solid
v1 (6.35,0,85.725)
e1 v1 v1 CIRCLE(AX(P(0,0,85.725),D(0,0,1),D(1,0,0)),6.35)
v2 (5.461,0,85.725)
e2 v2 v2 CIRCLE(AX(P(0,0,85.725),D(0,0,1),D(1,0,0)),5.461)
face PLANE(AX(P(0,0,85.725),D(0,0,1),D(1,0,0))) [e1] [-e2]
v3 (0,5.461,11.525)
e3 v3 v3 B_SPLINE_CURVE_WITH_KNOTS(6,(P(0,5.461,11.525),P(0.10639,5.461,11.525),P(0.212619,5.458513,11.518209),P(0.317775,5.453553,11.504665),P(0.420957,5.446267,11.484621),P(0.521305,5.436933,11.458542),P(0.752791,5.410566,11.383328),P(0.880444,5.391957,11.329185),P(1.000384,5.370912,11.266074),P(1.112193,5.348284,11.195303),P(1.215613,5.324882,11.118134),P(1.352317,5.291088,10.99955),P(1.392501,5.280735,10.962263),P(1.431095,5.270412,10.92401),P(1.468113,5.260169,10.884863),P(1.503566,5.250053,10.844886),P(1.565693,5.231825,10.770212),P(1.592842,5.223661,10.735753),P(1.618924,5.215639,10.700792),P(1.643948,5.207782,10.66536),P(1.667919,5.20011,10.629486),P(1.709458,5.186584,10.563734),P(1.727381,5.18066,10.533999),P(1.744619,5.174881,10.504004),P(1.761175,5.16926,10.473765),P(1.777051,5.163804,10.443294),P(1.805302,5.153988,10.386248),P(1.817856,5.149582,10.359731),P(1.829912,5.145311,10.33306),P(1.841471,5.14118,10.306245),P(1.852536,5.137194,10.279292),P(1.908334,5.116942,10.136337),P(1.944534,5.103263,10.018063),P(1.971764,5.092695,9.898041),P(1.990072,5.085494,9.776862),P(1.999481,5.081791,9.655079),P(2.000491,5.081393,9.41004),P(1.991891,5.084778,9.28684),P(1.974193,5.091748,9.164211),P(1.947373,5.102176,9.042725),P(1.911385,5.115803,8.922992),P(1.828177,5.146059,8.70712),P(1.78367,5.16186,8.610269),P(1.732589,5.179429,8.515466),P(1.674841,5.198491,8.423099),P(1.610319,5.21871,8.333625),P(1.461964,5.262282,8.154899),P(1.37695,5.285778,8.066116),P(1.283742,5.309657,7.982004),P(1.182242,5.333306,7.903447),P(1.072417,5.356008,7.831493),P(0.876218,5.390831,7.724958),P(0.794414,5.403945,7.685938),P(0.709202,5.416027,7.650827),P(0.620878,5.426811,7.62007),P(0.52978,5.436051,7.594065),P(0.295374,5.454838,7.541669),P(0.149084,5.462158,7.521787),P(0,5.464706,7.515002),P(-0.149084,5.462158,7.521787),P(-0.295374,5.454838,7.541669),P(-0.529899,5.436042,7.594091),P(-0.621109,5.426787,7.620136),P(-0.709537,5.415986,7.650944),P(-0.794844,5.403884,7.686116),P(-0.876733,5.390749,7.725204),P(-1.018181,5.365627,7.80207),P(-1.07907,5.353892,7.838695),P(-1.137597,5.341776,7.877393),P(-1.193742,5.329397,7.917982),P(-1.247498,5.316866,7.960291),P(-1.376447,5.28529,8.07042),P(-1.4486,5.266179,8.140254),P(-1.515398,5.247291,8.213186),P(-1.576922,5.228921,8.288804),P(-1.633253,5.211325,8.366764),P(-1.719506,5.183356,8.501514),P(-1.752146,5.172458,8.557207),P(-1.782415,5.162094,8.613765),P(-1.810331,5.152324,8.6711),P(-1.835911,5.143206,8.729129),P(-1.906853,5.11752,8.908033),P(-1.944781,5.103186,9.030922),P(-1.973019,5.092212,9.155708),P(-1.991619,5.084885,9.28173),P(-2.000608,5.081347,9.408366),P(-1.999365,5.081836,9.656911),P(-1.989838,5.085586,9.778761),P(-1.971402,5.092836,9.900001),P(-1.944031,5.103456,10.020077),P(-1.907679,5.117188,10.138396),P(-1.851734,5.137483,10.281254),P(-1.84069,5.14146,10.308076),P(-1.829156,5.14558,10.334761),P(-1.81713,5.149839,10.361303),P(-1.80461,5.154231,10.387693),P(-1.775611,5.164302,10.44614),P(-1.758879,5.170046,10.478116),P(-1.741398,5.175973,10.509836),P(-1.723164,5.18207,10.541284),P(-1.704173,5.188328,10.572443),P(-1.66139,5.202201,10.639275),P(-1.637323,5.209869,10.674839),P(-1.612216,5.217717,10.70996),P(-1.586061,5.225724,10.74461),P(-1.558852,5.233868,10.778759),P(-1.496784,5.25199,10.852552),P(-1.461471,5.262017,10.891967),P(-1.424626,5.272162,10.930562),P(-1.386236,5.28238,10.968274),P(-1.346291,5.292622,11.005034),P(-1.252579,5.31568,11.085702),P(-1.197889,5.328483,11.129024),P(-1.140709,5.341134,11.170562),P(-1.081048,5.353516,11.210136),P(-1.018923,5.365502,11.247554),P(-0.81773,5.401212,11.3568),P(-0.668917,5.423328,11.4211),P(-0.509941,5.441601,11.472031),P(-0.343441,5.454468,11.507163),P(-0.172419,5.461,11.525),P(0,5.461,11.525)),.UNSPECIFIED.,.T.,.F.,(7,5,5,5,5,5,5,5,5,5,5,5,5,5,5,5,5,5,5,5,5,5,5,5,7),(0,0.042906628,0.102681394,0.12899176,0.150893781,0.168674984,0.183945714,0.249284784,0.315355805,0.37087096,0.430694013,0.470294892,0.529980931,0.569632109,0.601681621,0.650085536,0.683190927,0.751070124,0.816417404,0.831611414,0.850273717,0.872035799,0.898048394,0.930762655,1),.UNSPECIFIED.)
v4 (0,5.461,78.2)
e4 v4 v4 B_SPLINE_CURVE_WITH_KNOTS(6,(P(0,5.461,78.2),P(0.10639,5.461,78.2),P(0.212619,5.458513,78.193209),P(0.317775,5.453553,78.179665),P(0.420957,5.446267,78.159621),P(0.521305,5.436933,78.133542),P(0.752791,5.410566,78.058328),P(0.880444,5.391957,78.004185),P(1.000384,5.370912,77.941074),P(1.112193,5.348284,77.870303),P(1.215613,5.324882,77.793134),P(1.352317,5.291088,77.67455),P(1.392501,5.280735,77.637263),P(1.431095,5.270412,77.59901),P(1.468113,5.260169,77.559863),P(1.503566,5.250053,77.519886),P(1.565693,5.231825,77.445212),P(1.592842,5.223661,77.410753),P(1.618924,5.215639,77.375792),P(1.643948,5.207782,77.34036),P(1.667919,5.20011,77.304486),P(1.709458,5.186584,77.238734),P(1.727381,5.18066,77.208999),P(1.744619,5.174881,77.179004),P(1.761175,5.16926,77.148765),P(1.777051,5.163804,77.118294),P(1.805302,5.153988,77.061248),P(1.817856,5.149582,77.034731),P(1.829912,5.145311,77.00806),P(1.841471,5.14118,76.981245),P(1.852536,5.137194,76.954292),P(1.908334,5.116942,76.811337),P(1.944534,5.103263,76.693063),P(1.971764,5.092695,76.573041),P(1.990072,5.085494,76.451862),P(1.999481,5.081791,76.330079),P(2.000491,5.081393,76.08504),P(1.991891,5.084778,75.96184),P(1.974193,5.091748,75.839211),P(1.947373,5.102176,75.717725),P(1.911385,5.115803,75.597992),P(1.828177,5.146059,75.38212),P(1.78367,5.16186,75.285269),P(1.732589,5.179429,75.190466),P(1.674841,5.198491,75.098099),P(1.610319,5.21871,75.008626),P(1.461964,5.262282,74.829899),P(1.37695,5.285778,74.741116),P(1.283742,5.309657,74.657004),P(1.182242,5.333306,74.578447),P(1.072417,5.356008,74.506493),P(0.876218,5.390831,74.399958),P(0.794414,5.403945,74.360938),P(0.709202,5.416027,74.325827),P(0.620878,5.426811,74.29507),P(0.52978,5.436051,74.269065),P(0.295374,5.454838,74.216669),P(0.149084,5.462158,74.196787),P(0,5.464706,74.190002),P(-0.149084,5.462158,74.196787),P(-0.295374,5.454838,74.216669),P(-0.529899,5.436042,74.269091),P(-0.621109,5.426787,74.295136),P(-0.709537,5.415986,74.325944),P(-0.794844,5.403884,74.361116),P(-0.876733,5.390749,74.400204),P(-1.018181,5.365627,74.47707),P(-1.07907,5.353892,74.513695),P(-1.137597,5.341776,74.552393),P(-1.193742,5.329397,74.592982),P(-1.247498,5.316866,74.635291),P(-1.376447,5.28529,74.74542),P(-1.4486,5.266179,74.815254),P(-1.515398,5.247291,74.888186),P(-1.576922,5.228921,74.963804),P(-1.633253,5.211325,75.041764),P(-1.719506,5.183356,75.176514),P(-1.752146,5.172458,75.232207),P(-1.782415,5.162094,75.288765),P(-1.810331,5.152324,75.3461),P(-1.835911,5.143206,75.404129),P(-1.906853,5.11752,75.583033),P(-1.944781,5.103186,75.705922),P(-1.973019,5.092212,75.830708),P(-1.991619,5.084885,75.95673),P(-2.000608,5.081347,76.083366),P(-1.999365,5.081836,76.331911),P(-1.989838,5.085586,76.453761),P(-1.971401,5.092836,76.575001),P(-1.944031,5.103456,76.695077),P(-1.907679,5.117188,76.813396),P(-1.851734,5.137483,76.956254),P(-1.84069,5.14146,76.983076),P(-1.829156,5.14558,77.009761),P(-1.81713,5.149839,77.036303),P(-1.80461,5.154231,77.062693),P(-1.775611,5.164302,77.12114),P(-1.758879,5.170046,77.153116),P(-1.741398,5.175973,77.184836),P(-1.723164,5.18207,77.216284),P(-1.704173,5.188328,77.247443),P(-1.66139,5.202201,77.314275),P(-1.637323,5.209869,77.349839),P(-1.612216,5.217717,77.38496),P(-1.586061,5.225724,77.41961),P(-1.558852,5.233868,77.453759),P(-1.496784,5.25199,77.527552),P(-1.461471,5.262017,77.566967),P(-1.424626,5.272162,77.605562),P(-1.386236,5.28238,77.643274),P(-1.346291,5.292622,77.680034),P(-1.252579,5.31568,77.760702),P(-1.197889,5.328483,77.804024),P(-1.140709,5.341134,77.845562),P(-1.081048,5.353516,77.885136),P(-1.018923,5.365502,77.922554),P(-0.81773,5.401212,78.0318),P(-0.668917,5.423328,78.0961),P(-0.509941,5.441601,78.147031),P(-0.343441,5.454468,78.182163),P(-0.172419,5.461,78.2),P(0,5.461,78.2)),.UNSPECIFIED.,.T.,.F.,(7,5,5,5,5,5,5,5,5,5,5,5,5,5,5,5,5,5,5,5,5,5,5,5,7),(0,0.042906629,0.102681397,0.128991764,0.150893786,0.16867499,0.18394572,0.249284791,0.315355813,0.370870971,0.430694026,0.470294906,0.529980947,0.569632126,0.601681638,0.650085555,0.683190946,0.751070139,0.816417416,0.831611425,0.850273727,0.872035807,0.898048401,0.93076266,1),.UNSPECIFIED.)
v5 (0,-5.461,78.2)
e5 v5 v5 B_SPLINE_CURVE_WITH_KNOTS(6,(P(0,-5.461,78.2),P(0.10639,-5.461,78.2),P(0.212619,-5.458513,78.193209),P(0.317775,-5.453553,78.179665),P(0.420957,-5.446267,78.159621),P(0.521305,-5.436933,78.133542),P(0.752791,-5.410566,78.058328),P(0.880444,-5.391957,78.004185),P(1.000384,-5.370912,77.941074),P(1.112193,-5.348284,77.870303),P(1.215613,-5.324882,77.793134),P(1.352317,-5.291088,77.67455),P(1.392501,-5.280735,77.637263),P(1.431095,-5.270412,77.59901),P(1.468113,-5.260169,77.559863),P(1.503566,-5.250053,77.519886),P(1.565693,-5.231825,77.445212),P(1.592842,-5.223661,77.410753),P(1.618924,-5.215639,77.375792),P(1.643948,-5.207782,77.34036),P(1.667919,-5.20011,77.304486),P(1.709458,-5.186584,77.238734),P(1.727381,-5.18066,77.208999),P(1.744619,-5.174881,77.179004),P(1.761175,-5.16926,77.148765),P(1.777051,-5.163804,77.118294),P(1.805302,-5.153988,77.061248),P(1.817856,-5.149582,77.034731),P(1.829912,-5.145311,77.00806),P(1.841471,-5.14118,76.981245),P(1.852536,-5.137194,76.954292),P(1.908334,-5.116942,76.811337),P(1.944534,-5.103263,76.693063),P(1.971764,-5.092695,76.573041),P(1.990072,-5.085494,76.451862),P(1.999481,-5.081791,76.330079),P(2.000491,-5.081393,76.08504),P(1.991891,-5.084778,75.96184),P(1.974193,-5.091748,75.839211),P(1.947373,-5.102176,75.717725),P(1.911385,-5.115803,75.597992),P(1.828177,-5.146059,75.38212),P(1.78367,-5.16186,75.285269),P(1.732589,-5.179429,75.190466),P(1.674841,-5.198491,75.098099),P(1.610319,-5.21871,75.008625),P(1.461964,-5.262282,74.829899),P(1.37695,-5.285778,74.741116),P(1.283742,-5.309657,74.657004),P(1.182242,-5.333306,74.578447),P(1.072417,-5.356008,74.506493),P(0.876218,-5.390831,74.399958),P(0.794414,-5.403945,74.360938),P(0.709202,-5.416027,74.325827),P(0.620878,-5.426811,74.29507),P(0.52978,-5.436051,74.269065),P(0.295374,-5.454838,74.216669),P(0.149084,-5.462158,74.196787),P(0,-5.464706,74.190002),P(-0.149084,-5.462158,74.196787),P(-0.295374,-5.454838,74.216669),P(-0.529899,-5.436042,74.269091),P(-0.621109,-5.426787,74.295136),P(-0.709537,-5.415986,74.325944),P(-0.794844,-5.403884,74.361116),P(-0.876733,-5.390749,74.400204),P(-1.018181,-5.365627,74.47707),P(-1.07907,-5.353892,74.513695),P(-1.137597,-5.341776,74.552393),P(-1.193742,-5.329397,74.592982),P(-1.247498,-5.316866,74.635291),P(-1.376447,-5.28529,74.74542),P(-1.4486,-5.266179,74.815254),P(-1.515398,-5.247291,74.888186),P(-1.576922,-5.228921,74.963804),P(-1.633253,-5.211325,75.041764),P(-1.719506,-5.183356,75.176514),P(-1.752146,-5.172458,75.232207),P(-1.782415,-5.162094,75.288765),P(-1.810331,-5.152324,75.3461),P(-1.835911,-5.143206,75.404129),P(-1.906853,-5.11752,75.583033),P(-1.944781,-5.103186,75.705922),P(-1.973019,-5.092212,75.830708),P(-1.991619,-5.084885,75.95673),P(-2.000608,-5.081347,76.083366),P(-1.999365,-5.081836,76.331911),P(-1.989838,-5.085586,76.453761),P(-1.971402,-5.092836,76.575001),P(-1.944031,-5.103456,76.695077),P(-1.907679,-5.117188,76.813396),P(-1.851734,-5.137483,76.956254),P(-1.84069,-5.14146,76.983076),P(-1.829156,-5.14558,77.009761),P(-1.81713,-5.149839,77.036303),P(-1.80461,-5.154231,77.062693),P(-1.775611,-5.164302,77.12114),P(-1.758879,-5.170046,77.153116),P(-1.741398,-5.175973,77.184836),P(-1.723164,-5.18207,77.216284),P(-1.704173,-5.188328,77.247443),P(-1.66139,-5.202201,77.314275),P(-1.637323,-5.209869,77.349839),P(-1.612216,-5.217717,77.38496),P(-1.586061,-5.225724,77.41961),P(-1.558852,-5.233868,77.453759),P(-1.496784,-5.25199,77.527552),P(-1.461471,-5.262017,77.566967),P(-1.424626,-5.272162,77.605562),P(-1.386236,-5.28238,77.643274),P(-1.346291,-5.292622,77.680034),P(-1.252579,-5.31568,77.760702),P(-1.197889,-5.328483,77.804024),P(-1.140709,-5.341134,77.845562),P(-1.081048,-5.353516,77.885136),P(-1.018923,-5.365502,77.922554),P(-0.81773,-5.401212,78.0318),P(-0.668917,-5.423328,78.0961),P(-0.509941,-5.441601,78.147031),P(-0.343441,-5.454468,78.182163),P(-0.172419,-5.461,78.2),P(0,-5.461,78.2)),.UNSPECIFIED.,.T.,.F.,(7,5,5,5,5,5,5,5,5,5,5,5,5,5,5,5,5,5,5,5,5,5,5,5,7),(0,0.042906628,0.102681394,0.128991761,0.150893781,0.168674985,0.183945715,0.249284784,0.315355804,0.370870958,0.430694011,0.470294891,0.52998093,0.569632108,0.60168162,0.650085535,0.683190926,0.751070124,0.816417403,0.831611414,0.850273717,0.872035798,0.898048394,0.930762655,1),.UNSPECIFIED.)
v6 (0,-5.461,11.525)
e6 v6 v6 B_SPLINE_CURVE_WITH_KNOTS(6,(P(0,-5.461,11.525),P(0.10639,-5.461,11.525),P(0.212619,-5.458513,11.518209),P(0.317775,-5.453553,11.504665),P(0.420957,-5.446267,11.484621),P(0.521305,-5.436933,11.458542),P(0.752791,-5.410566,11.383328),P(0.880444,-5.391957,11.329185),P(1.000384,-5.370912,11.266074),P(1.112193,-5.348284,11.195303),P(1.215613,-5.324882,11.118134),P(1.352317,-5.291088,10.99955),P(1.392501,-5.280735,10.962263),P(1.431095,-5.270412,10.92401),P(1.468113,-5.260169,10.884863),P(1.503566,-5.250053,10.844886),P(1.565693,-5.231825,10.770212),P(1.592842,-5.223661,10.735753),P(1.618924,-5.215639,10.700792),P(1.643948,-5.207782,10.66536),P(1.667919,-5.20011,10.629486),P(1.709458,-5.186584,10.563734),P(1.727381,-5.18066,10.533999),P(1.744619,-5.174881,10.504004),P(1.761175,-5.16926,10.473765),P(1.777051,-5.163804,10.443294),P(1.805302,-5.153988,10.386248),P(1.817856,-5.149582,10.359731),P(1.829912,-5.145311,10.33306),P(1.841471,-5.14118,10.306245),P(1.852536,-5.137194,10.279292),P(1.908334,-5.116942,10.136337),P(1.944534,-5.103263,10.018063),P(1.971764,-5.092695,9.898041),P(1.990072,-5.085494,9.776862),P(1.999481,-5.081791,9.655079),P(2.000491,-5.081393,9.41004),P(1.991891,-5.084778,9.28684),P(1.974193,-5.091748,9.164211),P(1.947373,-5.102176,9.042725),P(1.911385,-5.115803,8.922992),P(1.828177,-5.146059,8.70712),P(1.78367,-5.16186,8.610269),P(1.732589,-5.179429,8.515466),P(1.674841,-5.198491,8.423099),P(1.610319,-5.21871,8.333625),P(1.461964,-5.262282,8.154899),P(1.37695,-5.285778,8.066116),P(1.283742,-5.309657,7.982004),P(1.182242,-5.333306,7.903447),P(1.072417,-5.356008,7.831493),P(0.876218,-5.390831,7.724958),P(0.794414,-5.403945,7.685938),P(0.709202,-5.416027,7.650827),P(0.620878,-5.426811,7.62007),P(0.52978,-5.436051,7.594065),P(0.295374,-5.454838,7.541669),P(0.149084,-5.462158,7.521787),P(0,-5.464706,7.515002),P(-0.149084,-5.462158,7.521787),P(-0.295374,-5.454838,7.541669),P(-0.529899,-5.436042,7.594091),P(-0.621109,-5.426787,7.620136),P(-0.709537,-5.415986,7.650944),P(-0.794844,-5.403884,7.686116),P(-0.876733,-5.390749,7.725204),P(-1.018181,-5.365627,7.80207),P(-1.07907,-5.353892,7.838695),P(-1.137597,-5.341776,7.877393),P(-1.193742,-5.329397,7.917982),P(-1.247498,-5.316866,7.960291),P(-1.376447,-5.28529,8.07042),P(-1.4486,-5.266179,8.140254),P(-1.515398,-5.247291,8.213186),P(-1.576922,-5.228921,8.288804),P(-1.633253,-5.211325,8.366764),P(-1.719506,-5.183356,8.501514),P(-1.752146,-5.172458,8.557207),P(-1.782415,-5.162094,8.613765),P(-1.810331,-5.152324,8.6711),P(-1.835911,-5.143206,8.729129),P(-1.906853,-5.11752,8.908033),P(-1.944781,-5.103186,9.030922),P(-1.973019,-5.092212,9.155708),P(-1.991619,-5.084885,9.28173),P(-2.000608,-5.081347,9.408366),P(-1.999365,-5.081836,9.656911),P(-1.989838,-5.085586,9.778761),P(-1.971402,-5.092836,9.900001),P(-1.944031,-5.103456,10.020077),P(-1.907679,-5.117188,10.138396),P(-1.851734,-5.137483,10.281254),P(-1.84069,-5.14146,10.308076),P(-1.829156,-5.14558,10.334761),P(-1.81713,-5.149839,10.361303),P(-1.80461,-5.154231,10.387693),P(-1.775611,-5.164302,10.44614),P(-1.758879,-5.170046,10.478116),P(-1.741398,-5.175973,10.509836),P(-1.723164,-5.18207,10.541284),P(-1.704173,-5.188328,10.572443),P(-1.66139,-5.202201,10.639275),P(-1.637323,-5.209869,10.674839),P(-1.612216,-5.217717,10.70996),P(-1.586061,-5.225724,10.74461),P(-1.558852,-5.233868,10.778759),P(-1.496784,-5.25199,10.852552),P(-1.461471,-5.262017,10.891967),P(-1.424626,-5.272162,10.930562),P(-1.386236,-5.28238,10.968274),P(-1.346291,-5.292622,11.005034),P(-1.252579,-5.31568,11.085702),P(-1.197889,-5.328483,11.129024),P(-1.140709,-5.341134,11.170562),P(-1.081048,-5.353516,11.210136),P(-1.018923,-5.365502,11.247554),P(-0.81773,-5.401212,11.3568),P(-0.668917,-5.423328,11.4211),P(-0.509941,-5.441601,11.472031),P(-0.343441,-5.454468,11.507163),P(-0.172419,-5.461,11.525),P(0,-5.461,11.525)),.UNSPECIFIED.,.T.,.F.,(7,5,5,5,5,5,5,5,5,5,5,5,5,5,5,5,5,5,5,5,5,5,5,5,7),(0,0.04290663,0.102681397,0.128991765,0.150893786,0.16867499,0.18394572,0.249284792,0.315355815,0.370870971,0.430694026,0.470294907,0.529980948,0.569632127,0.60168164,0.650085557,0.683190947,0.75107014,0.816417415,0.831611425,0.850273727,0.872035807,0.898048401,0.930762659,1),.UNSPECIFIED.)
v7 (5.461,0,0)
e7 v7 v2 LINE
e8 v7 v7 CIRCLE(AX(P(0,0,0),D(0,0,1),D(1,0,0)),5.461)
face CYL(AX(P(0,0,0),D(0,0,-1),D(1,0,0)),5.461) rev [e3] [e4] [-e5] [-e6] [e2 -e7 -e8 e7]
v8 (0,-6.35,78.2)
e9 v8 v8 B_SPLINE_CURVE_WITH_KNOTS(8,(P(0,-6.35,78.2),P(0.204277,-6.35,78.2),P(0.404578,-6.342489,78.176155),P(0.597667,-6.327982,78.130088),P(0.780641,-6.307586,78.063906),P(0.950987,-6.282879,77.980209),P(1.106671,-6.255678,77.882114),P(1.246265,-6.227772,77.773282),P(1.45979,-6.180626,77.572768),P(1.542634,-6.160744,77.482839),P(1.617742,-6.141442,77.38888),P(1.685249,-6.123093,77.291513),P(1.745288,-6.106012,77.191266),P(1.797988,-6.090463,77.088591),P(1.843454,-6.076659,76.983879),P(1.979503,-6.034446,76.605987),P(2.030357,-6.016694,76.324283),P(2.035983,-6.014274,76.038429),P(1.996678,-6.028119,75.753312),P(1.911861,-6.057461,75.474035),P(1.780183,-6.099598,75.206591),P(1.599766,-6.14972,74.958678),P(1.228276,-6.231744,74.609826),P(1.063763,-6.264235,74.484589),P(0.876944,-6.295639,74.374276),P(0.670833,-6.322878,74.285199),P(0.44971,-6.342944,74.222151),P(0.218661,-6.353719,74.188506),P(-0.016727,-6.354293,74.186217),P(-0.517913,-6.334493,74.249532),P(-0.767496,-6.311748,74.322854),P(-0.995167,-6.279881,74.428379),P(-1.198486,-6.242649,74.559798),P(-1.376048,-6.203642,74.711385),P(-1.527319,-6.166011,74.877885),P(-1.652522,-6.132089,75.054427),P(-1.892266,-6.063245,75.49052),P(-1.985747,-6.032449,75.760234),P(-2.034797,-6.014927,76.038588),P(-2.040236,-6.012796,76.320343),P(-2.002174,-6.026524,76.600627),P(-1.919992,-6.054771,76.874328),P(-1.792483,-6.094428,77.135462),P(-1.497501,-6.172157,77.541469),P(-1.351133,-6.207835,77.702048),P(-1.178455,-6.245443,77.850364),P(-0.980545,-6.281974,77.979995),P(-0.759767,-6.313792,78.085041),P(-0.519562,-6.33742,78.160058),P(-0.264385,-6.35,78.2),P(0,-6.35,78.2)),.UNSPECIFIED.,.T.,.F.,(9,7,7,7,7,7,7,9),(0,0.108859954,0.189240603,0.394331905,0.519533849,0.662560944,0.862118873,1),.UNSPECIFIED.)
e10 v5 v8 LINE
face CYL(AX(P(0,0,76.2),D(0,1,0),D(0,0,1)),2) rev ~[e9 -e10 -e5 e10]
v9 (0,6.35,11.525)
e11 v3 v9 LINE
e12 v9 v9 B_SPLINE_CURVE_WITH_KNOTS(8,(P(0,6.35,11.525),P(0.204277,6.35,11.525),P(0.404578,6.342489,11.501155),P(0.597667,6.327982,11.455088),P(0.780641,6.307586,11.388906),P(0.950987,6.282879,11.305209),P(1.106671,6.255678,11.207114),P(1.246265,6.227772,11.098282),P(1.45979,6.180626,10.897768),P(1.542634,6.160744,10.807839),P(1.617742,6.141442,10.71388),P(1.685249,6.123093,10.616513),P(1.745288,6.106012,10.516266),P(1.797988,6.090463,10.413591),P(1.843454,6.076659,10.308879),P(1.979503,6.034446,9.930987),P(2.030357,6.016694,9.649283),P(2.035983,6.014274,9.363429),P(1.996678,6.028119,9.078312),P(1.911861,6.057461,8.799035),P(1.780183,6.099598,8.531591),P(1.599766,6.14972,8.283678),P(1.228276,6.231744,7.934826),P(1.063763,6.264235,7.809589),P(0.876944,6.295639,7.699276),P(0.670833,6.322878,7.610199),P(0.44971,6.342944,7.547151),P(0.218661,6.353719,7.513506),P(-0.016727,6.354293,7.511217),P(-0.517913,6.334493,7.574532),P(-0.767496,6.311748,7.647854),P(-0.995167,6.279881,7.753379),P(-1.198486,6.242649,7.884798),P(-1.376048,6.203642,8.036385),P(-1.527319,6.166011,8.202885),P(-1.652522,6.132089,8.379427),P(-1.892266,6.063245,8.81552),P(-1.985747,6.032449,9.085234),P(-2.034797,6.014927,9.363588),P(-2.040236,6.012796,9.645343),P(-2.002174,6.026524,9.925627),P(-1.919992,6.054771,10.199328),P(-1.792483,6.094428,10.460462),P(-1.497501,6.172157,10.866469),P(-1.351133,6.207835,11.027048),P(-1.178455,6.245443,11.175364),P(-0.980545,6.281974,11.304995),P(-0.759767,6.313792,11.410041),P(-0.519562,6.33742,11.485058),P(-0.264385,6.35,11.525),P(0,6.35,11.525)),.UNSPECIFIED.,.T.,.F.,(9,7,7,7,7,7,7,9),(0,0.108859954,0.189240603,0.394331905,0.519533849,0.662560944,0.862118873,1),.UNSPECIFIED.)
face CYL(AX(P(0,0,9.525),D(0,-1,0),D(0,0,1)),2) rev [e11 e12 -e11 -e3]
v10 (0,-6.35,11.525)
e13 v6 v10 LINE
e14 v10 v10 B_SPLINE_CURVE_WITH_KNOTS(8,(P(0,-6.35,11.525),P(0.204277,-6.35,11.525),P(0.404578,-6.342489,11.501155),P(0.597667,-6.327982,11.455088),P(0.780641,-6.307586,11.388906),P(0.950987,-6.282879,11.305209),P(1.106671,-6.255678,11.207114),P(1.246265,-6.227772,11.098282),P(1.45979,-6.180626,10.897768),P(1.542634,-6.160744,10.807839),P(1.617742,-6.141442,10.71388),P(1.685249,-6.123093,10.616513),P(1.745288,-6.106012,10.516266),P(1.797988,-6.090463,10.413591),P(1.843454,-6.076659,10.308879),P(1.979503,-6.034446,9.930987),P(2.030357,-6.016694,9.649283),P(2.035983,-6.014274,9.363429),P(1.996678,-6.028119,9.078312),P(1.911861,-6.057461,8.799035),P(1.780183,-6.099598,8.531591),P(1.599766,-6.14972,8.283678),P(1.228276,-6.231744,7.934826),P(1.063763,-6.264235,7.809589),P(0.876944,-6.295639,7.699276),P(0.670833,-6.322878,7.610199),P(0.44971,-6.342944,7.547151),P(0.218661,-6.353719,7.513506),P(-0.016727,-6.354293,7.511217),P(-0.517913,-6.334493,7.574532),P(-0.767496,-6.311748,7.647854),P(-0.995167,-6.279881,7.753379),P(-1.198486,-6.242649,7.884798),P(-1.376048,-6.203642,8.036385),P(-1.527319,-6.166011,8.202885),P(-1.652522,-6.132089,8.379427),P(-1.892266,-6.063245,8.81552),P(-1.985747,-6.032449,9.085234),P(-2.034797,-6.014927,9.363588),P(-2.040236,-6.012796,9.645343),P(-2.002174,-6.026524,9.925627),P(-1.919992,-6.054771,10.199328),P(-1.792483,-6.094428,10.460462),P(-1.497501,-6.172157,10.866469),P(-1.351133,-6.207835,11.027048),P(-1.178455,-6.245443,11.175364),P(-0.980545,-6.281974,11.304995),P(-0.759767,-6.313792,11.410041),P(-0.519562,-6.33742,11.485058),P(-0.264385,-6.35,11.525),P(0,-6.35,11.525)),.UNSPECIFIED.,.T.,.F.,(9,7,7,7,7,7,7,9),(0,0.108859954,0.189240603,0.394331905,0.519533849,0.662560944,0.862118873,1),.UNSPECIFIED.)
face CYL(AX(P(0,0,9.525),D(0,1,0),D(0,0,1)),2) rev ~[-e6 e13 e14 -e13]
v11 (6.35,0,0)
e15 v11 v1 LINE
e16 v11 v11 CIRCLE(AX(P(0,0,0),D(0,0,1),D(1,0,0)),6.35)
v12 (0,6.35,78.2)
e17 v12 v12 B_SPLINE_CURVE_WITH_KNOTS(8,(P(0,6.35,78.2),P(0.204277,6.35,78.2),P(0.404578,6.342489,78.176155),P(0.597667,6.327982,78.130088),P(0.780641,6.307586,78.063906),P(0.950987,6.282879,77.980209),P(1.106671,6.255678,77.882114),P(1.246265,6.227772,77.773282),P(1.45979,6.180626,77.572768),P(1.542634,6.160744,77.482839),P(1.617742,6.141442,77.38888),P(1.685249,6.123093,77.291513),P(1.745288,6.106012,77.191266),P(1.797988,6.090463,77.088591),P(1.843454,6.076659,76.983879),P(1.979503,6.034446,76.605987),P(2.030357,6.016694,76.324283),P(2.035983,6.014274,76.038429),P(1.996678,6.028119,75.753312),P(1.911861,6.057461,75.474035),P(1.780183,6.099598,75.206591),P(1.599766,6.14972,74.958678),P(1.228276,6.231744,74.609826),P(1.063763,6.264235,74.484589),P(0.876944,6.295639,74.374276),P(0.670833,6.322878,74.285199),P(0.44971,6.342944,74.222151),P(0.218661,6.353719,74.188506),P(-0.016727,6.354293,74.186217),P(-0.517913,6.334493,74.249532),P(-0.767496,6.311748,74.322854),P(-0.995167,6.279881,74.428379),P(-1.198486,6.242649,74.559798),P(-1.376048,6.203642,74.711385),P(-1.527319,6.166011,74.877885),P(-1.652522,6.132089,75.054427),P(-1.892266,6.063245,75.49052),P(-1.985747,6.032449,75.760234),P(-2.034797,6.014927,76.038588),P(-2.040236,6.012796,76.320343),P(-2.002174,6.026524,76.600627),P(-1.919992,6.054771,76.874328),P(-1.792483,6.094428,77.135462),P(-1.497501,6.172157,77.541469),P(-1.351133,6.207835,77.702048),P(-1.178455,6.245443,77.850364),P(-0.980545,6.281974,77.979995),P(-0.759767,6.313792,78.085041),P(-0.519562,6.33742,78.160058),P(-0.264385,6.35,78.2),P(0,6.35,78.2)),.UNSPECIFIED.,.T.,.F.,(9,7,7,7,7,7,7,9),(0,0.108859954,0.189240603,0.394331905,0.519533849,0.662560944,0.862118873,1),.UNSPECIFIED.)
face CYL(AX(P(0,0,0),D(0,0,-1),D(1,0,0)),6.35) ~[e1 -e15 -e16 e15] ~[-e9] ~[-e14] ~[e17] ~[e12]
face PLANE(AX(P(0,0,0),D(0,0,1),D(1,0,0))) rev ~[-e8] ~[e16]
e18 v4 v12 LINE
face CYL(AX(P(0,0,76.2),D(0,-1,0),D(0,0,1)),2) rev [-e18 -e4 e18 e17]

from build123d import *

# Parameters (mm, degrees)
SKETCH1_R               = 6.35
SKETCH1_R_2             = 5.461
EXTRUDE1_DEPTH          = 85.725
SKETCH2_R               = 2
CUT_EXTRUDE1_DEPTH      = 38.1
CUT_EXTRUDE1_DEPTH_BACK = 38.1


with BuildPart() as part:
    # Sketch1 → Extrude1 (new body)
    with BuildSketch(Plane.XY):
        Circle(SKETCH1_R)
        Circle(SKETCH1_R_2, mode=Mode.SUBTRACT)
    extrude(amount=EXTRUDE1_DEPTH)

    # Sketch2 → Cut-Extrude1 (cut, two sides)
    with BuildSketch(Plane(origin=(0, 0, 0), x_dir=(1, 0, 0), z_dir=(0, 1, 0))) as cut_extrude1_sk:
        with Locations(Location((0, -9.525, 0), (0, 0, 270))):  # turned: the seam where the file's is
            Circle(SKETCH2_R)
        with Locations(Location((0, -76.2, 0), (0, 0, 270))):  # turned: the seam where the file's is
            Circle(SKETCH2_R)
    extrude(amount=CUT_EXTRUDE1_DEPTH, mode=Mode.SUBTRACT)
    extrude(cut_extrude1_sk.sketch, amount=-CUT_EXTRUDE1_DEPTH_BACK, mode=Mode.SUBTRACT)


solid = part.part
